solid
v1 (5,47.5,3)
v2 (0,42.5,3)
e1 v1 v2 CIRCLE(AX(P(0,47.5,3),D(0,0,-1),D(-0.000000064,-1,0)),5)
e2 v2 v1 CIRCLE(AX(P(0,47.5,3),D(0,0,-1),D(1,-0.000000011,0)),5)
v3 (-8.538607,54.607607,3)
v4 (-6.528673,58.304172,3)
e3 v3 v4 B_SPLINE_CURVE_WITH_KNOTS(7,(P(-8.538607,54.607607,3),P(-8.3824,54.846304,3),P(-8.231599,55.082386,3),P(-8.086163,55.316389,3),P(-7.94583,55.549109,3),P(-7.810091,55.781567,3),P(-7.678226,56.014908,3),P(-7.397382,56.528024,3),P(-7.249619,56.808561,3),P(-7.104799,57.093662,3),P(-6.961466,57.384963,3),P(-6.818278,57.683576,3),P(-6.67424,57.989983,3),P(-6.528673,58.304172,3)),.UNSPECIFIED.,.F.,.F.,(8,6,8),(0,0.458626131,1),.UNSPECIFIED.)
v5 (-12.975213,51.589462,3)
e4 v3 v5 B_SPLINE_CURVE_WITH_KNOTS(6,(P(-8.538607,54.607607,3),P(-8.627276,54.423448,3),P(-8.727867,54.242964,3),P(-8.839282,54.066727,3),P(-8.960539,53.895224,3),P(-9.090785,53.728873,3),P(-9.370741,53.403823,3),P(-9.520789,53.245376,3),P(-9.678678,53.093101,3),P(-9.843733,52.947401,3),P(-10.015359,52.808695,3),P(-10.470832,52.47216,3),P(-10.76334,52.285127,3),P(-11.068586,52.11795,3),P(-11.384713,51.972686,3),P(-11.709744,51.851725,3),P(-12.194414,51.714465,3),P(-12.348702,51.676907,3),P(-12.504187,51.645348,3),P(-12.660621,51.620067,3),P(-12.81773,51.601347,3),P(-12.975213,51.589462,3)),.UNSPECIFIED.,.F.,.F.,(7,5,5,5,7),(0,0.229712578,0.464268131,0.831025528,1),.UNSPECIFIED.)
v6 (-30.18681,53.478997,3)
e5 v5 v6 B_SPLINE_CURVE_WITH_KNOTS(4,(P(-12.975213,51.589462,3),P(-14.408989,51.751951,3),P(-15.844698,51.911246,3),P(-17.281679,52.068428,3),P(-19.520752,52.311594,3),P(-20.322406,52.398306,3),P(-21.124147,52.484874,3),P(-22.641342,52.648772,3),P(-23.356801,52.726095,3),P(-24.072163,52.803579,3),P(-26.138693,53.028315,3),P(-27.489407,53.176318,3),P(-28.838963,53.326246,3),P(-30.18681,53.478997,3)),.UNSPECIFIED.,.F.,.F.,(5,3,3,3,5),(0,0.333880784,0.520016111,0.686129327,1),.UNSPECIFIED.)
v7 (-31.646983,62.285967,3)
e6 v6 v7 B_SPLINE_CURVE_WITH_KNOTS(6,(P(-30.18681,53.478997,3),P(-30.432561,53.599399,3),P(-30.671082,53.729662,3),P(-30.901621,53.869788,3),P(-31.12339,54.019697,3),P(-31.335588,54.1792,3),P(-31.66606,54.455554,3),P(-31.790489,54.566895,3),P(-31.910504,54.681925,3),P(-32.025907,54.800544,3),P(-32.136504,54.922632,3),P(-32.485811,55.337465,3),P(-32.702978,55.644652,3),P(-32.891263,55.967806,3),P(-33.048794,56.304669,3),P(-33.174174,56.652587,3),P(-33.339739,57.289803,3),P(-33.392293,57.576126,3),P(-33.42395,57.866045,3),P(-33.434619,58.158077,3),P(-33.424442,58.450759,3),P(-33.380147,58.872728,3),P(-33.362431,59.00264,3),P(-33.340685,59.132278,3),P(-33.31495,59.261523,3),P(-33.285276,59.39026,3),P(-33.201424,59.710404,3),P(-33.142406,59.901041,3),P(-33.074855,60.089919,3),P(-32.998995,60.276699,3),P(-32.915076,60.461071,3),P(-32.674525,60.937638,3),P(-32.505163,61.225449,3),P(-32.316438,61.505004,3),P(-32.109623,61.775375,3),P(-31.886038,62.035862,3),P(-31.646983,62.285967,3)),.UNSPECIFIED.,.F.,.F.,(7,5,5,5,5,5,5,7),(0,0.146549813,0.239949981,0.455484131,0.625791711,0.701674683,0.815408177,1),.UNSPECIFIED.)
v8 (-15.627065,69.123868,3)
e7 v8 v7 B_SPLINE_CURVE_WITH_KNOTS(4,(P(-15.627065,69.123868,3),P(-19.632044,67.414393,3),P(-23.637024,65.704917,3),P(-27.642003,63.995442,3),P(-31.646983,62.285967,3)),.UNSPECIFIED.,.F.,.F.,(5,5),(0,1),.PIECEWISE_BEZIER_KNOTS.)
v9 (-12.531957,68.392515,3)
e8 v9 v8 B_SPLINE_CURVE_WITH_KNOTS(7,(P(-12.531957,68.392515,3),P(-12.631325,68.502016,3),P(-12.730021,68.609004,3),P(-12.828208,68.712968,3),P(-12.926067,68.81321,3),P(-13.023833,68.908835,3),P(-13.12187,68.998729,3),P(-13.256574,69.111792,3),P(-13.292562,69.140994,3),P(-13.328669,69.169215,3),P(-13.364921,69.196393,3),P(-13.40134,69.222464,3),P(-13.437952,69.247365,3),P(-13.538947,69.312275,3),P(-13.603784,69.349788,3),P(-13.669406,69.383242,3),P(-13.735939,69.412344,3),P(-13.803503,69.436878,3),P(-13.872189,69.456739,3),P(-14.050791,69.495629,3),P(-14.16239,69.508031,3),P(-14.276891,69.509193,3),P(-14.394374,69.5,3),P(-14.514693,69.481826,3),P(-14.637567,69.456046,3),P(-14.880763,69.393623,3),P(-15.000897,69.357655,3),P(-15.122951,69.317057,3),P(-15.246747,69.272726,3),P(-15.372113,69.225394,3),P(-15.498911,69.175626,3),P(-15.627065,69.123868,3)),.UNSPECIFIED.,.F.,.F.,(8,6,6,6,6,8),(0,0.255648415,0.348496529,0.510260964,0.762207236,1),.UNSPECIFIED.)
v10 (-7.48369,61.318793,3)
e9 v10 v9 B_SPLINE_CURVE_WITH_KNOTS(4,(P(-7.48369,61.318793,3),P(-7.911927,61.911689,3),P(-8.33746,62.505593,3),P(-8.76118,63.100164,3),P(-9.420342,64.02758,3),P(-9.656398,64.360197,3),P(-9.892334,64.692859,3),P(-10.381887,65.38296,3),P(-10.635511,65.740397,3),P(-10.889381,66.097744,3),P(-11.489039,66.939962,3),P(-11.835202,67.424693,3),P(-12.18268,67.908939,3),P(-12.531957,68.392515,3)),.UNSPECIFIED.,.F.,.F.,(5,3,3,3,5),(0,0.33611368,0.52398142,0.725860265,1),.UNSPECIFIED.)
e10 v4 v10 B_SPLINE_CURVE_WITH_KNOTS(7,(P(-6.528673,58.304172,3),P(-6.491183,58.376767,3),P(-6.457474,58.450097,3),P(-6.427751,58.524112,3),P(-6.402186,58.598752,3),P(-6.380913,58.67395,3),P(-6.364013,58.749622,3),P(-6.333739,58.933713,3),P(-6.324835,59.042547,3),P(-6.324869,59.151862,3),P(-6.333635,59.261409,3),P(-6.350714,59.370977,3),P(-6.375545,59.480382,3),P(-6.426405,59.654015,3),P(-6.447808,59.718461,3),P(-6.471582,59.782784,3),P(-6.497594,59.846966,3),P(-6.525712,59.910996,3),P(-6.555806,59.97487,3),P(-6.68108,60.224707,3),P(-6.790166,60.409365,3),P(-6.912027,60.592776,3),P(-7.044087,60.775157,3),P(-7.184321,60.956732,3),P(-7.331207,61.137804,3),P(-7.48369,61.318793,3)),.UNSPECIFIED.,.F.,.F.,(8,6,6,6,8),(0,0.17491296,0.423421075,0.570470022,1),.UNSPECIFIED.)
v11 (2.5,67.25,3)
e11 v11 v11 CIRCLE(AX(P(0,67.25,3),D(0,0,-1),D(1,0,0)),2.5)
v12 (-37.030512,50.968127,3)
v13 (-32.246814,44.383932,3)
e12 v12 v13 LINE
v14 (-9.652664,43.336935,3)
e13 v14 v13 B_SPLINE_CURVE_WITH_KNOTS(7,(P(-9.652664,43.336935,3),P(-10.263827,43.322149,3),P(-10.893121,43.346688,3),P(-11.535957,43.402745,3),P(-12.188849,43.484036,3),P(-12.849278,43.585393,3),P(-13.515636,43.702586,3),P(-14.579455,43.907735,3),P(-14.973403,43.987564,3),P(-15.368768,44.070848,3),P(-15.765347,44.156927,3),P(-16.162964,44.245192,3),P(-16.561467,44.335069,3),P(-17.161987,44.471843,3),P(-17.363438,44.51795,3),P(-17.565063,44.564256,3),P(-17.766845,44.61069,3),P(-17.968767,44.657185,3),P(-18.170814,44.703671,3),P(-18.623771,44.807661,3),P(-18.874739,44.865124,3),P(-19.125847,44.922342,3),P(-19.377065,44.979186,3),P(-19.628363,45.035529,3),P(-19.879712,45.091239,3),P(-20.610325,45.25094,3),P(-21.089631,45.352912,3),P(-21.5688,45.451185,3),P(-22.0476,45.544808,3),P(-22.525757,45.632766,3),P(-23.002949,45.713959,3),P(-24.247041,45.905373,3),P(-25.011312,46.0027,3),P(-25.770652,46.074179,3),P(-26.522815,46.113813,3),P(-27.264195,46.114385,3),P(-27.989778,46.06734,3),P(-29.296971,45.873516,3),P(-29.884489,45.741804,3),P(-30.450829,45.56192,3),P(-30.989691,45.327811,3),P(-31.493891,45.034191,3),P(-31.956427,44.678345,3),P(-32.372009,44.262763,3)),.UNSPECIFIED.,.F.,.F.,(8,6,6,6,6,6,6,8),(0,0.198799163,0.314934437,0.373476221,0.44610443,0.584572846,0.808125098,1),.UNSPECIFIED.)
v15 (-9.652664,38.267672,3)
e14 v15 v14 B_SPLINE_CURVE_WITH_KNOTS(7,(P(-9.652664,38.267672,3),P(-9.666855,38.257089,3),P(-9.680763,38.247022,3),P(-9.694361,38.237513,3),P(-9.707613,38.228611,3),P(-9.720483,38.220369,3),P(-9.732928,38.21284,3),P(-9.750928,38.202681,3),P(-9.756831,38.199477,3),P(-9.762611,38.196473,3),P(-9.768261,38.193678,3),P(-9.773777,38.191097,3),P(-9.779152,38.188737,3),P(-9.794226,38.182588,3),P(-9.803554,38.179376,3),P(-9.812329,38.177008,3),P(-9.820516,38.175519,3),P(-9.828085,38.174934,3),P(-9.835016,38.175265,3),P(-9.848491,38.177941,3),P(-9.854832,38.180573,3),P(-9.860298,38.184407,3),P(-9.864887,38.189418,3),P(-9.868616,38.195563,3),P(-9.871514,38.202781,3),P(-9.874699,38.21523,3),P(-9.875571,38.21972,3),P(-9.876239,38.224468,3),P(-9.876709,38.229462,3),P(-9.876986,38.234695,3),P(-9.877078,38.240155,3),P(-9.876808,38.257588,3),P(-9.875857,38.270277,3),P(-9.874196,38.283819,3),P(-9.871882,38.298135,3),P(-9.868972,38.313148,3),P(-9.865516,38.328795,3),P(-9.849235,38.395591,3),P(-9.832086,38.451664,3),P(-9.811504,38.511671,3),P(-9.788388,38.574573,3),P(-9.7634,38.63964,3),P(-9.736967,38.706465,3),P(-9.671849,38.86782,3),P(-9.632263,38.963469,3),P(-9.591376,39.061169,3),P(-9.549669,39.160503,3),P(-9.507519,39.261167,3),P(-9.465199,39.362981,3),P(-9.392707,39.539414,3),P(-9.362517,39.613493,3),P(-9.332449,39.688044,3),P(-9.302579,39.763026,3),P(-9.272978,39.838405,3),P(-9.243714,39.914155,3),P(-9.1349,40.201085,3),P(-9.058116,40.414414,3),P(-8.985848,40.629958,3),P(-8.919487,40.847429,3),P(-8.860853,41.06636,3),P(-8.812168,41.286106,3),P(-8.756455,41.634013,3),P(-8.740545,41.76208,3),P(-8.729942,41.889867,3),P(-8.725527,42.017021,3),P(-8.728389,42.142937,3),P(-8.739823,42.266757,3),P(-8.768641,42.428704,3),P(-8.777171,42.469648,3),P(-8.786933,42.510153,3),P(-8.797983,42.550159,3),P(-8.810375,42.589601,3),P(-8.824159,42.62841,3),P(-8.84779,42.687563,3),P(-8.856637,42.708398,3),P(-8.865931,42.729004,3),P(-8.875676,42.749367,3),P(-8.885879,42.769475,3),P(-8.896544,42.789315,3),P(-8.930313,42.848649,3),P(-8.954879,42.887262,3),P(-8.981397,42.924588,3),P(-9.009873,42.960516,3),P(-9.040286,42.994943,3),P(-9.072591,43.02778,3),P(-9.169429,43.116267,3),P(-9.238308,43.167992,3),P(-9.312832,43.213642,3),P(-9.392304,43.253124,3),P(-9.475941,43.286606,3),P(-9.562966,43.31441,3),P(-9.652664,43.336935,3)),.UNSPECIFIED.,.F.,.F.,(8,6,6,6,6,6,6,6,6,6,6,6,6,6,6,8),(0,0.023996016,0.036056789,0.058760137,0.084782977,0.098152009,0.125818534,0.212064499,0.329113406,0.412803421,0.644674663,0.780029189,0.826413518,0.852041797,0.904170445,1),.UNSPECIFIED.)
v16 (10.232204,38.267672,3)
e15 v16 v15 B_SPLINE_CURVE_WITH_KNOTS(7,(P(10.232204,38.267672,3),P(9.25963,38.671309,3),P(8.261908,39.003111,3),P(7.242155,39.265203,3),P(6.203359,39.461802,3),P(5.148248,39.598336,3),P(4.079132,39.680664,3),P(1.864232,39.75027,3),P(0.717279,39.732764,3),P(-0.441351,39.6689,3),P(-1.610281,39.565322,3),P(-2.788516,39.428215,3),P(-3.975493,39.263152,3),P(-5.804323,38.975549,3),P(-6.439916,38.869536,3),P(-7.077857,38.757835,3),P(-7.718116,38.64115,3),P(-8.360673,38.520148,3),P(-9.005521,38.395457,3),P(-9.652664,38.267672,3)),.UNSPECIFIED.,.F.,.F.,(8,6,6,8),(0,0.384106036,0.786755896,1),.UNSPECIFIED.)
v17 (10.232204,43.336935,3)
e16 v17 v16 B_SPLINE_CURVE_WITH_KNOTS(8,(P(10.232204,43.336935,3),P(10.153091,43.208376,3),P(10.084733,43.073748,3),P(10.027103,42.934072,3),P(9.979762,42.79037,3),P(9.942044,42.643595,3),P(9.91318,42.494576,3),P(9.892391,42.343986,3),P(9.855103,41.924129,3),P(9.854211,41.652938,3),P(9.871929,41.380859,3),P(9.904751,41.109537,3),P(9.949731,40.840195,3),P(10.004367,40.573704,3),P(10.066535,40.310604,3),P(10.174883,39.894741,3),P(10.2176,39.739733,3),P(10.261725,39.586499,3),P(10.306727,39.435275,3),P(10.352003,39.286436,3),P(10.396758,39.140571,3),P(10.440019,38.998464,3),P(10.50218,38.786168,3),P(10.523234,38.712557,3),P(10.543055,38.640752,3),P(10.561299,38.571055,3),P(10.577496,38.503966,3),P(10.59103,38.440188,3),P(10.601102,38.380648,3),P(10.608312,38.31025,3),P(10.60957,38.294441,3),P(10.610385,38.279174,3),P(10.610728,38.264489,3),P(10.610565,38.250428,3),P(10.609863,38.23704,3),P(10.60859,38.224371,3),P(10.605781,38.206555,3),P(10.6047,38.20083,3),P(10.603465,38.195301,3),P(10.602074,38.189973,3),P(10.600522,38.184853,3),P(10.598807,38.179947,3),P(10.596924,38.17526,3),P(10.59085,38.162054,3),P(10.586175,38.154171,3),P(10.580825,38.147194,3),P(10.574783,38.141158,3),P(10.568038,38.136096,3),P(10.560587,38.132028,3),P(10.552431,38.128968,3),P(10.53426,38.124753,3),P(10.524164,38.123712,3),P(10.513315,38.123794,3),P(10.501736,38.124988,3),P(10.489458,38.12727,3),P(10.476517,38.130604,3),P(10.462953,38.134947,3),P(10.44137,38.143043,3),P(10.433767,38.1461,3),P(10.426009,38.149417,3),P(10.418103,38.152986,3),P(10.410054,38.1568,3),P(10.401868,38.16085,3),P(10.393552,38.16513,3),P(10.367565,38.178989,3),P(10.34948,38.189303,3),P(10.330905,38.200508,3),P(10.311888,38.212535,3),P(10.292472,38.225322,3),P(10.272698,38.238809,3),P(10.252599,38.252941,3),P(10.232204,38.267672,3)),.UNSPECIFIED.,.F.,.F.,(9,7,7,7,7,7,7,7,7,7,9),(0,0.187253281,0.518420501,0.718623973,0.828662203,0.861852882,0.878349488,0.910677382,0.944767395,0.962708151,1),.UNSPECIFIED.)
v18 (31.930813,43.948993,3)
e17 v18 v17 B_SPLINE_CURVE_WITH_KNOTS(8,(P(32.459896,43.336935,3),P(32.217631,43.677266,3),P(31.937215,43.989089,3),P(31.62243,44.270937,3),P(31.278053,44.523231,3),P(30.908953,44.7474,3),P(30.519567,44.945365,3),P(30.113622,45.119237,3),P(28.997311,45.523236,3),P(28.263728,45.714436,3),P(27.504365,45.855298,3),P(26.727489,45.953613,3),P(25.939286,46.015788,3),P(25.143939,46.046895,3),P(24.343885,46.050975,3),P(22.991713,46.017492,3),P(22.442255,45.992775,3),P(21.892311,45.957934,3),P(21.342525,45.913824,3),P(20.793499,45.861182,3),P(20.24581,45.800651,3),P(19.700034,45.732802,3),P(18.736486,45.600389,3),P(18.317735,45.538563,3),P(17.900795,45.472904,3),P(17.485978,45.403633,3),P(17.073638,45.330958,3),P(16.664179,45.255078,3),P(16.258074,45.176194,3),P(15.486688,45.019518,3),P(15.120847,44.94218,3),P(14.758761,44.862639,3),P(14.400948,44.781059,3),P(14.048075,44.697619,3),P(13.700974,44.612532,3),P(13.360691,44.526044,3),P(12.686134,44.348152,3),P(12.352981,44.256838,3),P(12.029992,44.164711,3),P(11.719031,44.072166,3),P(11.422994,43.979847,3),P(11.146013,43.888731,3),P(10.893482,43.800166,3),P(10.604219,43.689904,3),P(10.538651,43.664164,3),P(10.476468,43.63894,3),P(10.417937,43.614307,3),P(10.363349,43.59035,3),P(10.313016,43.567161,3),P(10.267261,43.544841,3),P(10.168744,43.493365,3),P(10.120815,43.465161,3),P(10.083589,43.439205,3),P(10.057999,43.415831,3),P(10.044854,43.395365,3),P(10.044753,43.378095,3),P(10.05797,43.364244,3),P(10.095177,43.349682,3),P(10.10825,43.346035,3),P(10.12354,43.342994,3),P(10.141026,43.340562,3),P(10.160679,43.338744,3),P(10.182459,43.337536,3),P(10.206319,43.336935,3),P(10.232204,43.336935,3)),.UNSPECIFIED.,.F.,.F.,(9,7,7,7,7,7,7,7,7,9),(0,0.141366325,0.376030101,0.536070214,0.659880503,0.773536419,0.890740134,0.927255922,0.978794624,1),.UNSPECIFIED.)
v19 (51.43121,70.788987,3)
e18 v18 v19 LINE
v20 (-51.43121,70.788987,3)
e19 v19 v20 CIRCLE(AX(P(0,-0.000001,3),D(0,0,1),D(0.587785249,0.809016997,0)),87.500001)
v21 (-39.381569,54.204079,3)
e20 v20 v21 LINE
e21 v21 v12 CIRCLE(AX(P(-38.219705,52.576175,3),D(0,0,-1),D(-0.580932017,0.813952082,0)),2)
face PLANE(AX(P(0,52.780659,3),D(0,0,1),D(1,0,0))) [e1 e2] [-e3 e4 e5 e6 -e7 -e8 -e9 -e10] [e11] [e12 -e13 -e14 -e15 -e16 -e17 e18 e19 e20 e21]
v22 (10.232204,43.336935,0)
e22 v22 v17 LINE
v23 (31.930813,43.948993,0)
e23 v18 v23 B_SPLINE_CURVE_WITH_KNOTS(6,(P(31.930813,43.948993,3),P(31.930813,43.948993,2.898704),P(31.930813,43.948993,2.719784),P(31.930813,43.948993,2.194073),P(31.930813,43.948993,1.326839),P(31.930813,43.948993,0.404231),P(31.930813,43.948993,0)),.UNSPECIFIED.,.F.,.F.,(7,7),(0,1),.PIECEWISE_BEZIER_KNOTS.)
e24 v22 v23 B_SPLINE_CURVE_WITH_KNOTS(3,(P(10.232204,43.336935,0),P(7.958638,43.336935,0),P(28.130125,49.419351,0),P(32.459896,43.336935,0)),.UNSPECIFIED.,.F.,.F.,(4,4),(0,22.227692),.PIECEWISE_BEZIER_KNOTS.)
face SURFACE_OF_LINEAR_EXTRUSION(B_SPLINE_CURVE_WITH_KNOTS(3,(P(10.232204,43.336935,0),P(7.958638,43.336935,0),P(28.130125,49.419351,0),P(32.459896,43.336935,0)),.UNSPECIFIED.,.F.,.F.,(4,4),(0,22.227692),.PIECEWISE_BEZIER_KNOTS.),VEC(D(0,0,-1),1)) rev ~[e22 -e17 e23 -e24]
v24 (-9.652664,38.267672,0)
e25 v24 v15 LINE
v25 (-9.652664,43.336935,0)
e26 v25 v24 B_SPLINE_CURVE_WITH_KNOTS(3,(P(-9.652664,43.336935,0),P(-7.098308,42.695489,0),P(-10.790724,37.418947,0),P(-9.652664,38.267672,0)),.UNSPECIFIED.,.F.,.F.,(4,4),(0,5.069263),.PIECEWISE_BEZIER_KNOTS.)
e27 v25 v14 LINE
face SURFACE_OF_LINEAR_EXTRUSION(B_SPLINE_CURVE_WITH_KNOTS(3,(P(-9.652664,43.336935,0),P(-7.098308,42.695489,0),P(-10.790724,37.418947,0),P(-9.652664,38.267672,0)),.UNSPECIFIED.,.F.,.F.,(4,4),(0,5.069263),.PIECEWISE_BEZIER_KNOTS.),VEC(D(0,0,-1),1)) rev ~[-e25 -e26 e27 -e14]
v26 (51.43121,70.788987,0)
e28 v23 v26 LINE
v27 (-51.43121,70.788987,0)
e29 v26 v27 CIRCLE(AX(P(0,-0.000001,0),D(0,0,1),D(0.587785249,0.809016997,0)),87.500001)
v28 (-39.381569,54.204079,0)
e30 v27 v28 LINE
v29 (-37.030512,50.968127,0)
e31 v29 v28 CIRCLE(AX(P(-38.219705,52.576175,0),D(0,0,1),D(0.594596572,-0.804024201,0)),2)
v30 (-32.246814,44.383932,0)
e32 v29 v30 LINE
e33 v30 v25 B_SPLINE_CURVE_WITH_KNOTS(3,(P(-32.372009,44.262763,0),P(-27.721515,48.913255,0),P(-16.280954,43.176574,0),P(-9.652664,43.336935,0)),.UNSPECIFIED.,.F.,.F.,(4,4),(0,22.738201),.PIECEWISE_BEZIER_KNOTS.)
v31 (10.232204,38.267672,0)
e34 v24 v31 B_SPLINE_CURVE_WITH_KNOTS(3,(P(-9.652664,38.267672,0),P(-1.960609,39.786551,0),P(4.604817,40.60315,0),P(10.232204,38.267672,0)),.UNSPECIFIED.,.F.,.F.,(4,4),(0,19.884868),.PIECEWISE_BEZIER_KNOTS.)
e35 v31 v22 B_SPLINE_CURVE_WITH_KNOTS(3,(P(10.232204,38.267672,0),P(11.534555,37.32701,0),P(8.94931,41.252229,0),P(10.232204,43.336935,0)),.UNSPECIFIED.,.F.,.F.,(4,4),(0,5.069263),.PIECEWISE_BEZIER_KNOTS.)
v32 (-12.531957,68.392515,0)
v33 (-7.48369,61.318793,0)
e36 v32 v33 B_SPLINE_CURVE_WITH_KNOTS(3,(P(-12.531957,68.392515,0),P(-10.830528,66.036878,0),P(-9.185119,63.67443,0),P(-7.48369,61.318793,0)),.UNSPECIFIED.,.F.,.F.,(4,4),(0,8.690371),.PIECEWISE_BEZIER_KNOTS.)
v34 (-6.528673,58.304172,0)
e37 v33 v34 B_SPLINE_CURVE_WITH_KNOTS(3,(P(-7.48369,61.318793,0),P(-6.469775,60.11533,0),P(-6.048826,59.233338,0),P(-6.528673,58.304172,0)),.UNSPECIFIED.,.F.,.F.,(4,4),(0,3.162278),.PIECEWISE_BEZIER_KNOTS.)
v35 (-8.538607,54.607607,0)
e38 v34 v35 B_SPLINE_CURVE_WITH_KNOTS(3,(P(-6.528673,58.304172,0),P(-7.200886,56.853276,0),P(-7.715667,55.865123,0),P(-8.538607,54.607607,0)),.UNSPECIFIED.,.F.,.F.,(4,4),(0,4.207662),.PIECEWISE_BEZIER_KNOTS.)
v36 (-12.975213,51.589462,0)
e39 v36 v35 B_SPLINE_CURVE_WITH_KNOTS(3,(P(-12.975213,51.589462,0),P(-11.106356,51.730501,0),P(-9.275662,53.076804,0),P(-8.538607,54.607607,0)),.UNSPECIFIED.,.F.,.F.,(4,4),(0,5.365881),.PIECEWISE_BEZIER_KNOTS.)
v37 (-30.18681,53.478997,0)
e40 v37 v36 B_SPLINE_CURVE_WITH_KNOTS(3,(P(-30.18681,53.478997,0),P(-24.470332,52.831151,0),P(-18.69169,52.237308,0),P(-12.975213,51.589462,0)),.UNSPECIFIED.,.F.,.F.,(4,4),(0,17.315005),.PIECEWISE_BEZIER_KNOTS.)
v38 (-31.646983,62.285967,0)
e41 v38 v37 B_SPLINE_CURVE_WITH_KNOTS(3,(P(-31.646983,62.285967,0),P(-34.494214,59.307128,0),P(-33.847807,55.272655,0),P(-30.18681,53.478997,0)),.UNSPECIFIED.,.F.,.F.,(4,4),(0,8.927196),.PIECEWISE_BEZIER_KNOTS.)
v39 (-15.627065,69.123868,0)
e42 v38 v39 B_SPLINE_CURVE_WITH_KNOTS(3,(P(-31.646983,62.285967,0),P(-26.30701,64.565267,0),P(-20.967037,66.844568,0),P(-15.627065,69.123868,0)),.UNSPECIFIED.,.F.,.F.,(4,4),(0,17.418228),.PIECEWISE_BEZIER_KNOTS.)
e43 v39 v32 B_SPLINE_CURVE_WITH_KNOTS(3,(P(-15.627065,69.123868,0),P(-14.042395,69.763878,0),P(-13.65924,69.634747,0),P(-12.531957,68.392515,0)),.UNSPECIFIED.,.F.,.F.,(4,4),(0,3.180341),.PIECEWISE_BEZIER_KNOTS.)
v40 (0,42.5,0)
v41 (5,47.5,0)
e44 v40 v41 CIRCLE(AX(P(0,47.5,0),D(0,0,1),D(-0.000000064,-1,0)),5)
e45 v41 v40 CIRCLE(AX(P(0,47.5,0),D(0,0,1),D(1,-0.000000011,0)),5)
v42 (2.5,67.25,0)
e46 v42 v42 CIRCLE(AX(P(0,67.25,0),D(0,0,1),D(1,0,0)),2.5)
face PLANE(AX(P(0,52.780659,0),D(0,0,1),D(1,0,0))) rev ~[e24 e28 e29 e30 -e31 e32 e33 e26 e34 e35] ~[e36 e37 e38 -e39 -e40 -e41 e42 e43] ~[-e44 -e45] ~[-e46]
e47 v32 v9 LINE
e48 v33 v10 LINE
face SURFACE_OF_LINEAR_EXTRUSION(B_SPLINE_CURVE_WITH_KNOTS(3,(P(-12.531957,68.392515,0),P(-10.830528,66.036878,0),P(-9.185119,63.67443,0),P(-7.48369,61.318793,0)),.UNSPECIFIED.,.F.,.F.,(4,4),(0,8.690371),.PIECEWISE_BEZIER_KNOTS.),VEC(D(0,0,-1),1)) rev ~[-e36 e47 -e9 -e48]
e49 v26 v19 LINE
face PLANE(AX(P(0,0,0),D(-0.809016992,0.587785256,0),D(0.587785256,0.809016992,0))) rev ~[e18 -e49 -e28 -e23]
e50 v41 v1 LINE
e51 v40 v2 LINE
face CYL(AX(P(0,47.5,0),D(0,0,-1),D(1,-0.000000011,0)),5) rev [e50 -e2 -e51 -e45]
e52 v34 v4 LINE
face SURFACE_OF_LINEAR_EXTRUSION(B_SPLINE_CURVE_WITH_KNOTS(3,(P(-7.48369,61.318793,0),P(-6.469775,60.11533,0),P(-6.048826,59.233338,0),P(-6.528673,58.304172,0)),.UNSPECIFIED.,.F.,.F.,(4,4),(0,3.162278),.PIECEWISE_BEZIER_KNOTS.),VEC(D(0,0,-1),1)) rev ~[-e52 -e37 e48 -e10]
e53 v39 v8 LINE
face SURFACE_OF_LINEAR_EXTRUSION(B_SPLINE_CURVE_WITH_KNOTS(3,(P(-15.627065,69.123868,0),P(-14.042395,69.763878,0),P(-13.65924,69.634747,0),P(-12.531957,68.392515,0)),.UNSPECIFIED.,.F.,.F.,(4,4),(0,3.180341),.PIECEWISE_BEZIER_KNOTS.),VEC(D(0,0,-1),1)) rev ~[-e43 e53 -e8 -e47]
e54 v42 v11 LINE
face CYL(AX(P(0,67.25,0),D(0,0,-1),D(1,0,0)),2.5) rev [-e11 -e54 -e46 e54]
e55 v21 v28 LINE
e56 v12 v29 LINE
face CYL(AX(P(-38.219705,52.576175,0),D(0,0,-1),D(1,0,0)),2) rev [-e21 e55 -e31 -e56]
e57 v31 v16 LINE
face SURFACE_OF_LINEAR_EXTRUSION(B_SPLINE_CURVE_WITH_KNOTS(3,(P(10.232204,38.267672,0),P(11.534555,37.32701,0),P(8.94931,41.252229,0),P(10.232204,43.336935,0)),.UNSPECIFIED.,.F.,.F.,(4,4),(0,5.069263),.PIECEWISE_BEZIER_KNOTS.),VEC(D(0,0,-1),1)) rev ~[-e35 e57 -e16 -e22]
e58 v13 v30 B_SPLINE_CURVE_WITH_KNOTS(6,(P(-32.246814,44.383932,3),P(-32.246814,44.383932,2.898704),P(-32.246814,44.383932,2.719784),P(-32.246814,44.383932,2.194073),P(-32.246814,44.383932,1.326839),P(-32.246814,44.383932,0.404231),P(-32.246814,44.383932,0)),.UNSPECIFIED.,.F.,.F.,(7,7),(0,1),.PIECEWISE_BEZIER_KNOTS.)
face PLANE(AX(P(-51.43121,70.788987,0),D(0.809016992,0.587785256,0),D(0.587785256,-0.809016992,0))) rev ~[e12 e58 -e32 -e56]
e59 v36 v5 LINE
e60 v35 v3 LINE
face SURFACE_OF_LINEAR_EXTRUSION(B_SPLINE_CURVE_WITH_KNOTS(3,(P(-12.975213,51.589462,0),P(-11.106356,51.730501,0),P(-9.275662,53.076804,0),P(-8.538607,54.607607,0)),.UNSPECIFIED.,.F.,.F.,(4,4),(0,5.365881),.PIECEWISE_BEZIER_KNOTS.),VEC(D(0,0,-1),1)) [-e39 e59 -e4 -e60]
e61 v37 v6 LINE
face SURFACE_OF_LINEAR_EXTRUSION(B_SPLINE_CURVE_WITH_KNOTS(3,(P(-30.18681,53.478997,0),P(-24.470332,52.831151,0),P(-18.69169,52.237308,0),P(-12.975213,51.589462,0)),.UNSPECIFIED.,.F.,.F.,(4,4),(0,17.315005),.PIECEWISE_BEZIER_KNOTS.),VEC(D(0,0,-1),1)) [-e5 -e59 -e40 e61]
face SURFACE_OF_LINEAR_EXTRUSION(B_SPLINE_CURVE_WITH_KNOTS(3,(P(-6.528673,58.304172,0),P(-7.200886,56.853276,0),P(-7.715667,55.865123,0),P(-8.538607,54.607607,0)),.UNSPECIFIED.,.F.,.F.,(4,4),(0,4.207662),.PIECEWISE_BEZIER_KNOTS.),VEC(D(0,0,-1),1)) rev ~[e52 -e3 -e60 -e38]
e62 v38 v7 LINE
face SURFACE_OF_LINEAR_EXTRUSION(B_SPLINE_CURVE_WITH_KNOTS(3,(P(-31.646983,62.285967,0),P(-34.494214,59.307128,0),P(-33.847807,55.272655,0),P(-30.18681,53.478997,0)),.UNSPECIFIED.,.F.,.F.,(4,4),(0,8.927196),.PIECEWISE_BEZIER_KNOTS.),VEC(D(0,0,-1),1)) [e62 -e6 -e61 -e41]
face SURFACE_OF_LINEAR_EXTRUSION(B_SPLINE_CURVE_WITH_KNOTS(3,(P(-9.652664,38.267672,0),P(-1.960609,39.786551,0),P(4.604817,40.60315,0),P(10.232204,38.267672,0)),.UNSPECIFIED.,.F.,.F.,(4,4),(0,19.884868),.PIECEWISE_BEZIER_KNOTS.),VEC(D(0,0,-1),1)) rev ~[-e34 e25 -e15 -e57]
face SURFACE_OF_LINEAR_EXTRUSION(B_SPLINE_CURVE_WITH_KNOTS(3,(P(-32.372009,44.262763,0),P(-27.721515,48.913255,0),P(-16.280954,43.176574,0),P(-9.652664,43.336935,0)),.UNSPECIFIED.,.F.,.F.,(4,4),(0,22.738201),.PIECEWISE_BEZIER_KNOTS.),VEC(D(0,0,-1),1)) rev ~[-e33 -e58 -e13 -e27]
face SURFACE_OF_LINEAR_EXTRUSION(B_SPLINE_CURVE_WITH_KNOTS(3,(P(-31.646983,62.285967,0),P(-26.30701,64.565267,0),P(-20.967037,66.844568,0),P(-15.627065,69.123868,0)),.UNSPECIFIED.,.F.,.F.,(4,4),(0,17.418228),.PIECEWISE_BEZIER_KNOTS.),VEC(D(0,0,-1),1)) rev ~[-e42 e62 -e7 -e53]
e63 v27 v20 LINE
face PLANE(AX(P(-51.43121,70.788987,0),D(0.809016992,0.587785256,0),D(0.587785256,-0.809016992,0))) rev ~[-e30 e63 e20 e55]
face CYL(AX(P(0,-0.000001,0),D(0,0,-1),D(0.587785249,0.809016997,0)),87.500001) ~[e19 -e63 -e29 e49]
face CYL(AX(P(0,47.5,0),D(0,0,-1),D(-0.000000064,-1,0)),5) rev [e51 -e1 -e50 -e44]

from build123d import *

# Parameters (mm, degrees)
F1_DEPTH  = 3
F2_R      = 2
F3_DEPTH  = 13.4
F5_DEPTH  = 15.1
F7_DEPTH  = 28
F9_DEPTH  = 40.9
F10_R     = 2.5
F11_DEPTH = 30.3
F12_DEPTH = 32.7


with BuildPart() as f1:
    # F0 (on Top) → F1 (new body)
    with BuildSketch(Plane.XY):
        with BuildLine():
            Line((0, 0), (51.43121, 70.788987))
            ThreePointArc((51.43121, 70.788987), (0, 87.5), (-51.43121, 70.788987))
            Line((-51.43121, 70.788987), (0, 0))
        make_face()
    extrude(amount=F1_DEPTH)

    # F2 (on Top) → F3 (cut)
    with BuildSketch(Plane.XY):
        with Locations((-38.219705, 52.576175)):
            Circle(F2_R)
    extrude(amount=F3_DEPTH, mode=Mode.SUBTRACT)

    # F4 (on Top) → F5 (cut)
    with BuildSketch(Plane.XY):
        with BuildLine():
            ThreePointArc((0, 42.5), (3.535534, 43.964466), (5, 47.5))
            ThreePointArc((5, 47.5), (-3.535534, 51.035534), (0, 42.5))
        make_face()
    extrude(amount=F5_DEPTH, mode=Mode.SUBTRACT)

    # F6 (on Top) → F7 (cut)
    with BuildSketch(Plane.XY):
        with BuildLine():
            add(Edge.make_bspline(
                [(-32.372009, 44.262763), (-27.721515, 48.913255), (-16.280954, 43.176574), (-9.652664, 43.336935)],
                knots=[0, 0, 0, 0, 22.738201, 22.738201, 22.738201, 22.738201], degree=3))
            Line((-32.372009, 44.262763), (0, 0))
            Line((0, 0), (32.459896, 43.336935))
            add(Edge.make_bspline(
                [(10.232204, 43.336935), (7.958638, 43.336935), (28.130125, 49.419351), (32.459896, 43.336935)],
                knots=[0, 0, 0, 0, 22.227692, 22.227692, 22.227692, 22.227692], degree=3))
            add(Edge.make_bspline(
                [(10.232204, 38.267672), (11.534555, 37.32701), (8.94931, 41.252229), (10.232204, 43.336935)],
                knots=[0, 0, 0, 0, 5.069263, 5.069263, 5.069263, 5.069263], degree=3))
            add(Edge.make_bspline(
                [(-9.652664, 38.267672), (-1.960609, 39.786551), (4.604817, 40.60315), (10.232204, 38.267672)],
                knots=[0, 0, 0, 0, 19.884868, 19.884868, 19.884868, 19.884868], degree=3))
            add(Edge.make_bspline(
                [(-9.652664, 43.336935), (-7.098308, 42.695489), (-10.790724, 37.418947), (-9.652664, 38.267672)],
                knots=[0, 0, 0, 0, 5.069263, 5.069263, 5.069263, 5.069263], degree=3))
        make_face()
    extrude(amount=F7_DEPTH, mode=Mode.SUBTRACT)

    # F8 (on Top) → F9 (cut)
    with BuildSketch(Plane.XY):
        with BuildLine():
            add(Edge.make_bspline(
                [(-31.646983, 62.285967), (-34.494214, 59.307128), (-33.847807, 55.272655), (-30.18681, 53.478997)],
                knots=[0, 0, 0, 0, 8.927196, 8.927196, 8.927196, 8.927196], degree=3))
            add(Edge.make_bspline(
                [(-30.18681, 53.478997), (-24.470332, 52.831151), (-18.69169, 52.237308), (-12.975213, 51.589462)],
                knots=[0, 0, 0, 0, 17.315005, 17.315005, 17.315005, 17.315005], degree=3))
            add(Edge.make_bspline(
                [(-12.975213, 51.589462), (-11.106356, 51.730501), (-9.275662, 53.076804), (-8.538607, 54.607607)],
                knots=[0, 0, 0, 0, 5.365881, 5.365881, 5.365881, 5.365881], degree=3))
            add(Edge.make_bspline(
                [(-6.528673, 58.304172), (-7.200886, 56.853276), (-7.715667, 55.865123), (-8.538607, 54.607607)],
                knots=[0, 0, 0, 0, 4.207662, 4.207662, 4.207662, 4.207662], degree=3))
            add(Edge.make_bspline(
                [(-7.48369, 61.318793), (-6.469775, 60.11533), (-6.048826, 59.233338), (-6.528673, 58.304172)],
                knots=[0, 0, 0, 0, 3.162278, 3.162278, 3.162278, 3.162278], degree=3))
            add(Edge.make_bspline(
                [(-12.531957, 68.392515), (-10.830528, 66.036878), (-9.185119, 63.67443), (-7.48369, 61.318793)],
                knots=[0, 0, 0, 0, 8.690371, 8.690371, 8.690371, 8.690371], degree=3))
            add(Edge.make_bspline(
                [(-15.627065, 69.123868), (-14.042395, 69.763878), (-13.65924, 69.634747), (-12.531957, 68.392515)],
                knots=[0, 0, 0, 0, 3.180341, 3.180341, 3.180341, 3.180341], degree=3))
            add(Edge.make_bspline(
                [(-31.646983, 62.285967), (-26.30701, 64.565267), (-20.967037, 66.844568), (-15.627065, 69.123868)],
                knots=[0, 0, 0, 0, 17.418228, 17.418228, 17.418228, 17.418228], degree=3))
        make_face()
    extrude(amount=F9_DEPTH, mode=Mode.SUBTRACT)

    # F10 (on Top) → F11 (cut)
    with BuildSketch(Plane.XY):
        with Locations((0, 67.25)):
            Circle(F10_R)
    extrude(amount=F11_DEPTH, mode=Mode.SUBTRACT)

    # F8 (on Top) → F12 (cut)
    with BuildSketch(Plane.XY):
        with BuildLine():
            add(Edge.make_bspline(
                [(-31.646983, 62.285967), (-34.494214, 59.307128), (-33.847807, 55.272655), (-30.18681, 53.478997)],
                knots=[0, 0, 0, 0, 8.927196, 8.927196, 8.927196, 8.927196], degree=3))
            add(Edge.make_bspline(
                [(-30.18681, 53.478997), (-24.470332, 52.831151), (-18.69169, 52.237308), (-12.975213, 51.589462)],
                knots=[0, 0, 0, 0, 17.315005, 17.315005, 17.315005, 17.315005], degree=3))
            add(Edge.make_bspline(
                [(-12.975213, 51.589462), (-11.106356, 51.730501), (-9.275662, 53.076804), (-8.538607, 54.607607)],
                knots=[0, 0, 0, 0, 5.365881, 5.365881, 5.365881, 5.365881], degree=3))
            add(Edge.make_bspline(
                [(-6.528673, 58.304172), (-7.200886, 56.853276), (-7.715667, 55.865123), (-8.538607, 54.607607)],
                knots=[0, 0, 0, 0, 4.207662, 4.207662, 4.207662, 4.207662], degree=3))
            add(Edge.make_bspline(
                [(-7.48369, 61.318793), (-6.469775, 60.11533), (-6.048826, 59.233338), (-6.528673, 58.304172)],
                knots=[0, 0, 0, 0, 3.162278, 3.162278, 3.162278, 3.162278], degree=3))
            add(Edge.make_bspline(
                [(-12.531957, 68.392515), (-10.830528, 66.036878), (-9.185119, 63.67443), (-7.48369, 61.318793)],
                knots=[0, 0, 0, 0, 8.690371, 8.690371, 8.690371, 8.690371], degree=3))
            add(Edge.make_bspline(
                [(-15.627065, 69.123868), (-14.042395, 69.763878), (-13.65924, 69.634747), (-12.531957, 68.392515)],
                knots=[0, 0, 0, 0, 3.180341, 3.180341, 3.180341, 3.180341], degree=3))
            add(Edge.make_bspline(
                [(-31.646983, 62.285967), (-26.30701, 64.565267), (-20.967037, 66.844568), (-15.627065, 69.123868)],
                knots=[0, 0, 0, 0, 17.418228, 17.418228, 17.418228, 17.418228], degree=3))
        make_face()
    extrude(amount=F12_DEPTH, mode=Mode.SUBTRACT)


solid = f1.part
